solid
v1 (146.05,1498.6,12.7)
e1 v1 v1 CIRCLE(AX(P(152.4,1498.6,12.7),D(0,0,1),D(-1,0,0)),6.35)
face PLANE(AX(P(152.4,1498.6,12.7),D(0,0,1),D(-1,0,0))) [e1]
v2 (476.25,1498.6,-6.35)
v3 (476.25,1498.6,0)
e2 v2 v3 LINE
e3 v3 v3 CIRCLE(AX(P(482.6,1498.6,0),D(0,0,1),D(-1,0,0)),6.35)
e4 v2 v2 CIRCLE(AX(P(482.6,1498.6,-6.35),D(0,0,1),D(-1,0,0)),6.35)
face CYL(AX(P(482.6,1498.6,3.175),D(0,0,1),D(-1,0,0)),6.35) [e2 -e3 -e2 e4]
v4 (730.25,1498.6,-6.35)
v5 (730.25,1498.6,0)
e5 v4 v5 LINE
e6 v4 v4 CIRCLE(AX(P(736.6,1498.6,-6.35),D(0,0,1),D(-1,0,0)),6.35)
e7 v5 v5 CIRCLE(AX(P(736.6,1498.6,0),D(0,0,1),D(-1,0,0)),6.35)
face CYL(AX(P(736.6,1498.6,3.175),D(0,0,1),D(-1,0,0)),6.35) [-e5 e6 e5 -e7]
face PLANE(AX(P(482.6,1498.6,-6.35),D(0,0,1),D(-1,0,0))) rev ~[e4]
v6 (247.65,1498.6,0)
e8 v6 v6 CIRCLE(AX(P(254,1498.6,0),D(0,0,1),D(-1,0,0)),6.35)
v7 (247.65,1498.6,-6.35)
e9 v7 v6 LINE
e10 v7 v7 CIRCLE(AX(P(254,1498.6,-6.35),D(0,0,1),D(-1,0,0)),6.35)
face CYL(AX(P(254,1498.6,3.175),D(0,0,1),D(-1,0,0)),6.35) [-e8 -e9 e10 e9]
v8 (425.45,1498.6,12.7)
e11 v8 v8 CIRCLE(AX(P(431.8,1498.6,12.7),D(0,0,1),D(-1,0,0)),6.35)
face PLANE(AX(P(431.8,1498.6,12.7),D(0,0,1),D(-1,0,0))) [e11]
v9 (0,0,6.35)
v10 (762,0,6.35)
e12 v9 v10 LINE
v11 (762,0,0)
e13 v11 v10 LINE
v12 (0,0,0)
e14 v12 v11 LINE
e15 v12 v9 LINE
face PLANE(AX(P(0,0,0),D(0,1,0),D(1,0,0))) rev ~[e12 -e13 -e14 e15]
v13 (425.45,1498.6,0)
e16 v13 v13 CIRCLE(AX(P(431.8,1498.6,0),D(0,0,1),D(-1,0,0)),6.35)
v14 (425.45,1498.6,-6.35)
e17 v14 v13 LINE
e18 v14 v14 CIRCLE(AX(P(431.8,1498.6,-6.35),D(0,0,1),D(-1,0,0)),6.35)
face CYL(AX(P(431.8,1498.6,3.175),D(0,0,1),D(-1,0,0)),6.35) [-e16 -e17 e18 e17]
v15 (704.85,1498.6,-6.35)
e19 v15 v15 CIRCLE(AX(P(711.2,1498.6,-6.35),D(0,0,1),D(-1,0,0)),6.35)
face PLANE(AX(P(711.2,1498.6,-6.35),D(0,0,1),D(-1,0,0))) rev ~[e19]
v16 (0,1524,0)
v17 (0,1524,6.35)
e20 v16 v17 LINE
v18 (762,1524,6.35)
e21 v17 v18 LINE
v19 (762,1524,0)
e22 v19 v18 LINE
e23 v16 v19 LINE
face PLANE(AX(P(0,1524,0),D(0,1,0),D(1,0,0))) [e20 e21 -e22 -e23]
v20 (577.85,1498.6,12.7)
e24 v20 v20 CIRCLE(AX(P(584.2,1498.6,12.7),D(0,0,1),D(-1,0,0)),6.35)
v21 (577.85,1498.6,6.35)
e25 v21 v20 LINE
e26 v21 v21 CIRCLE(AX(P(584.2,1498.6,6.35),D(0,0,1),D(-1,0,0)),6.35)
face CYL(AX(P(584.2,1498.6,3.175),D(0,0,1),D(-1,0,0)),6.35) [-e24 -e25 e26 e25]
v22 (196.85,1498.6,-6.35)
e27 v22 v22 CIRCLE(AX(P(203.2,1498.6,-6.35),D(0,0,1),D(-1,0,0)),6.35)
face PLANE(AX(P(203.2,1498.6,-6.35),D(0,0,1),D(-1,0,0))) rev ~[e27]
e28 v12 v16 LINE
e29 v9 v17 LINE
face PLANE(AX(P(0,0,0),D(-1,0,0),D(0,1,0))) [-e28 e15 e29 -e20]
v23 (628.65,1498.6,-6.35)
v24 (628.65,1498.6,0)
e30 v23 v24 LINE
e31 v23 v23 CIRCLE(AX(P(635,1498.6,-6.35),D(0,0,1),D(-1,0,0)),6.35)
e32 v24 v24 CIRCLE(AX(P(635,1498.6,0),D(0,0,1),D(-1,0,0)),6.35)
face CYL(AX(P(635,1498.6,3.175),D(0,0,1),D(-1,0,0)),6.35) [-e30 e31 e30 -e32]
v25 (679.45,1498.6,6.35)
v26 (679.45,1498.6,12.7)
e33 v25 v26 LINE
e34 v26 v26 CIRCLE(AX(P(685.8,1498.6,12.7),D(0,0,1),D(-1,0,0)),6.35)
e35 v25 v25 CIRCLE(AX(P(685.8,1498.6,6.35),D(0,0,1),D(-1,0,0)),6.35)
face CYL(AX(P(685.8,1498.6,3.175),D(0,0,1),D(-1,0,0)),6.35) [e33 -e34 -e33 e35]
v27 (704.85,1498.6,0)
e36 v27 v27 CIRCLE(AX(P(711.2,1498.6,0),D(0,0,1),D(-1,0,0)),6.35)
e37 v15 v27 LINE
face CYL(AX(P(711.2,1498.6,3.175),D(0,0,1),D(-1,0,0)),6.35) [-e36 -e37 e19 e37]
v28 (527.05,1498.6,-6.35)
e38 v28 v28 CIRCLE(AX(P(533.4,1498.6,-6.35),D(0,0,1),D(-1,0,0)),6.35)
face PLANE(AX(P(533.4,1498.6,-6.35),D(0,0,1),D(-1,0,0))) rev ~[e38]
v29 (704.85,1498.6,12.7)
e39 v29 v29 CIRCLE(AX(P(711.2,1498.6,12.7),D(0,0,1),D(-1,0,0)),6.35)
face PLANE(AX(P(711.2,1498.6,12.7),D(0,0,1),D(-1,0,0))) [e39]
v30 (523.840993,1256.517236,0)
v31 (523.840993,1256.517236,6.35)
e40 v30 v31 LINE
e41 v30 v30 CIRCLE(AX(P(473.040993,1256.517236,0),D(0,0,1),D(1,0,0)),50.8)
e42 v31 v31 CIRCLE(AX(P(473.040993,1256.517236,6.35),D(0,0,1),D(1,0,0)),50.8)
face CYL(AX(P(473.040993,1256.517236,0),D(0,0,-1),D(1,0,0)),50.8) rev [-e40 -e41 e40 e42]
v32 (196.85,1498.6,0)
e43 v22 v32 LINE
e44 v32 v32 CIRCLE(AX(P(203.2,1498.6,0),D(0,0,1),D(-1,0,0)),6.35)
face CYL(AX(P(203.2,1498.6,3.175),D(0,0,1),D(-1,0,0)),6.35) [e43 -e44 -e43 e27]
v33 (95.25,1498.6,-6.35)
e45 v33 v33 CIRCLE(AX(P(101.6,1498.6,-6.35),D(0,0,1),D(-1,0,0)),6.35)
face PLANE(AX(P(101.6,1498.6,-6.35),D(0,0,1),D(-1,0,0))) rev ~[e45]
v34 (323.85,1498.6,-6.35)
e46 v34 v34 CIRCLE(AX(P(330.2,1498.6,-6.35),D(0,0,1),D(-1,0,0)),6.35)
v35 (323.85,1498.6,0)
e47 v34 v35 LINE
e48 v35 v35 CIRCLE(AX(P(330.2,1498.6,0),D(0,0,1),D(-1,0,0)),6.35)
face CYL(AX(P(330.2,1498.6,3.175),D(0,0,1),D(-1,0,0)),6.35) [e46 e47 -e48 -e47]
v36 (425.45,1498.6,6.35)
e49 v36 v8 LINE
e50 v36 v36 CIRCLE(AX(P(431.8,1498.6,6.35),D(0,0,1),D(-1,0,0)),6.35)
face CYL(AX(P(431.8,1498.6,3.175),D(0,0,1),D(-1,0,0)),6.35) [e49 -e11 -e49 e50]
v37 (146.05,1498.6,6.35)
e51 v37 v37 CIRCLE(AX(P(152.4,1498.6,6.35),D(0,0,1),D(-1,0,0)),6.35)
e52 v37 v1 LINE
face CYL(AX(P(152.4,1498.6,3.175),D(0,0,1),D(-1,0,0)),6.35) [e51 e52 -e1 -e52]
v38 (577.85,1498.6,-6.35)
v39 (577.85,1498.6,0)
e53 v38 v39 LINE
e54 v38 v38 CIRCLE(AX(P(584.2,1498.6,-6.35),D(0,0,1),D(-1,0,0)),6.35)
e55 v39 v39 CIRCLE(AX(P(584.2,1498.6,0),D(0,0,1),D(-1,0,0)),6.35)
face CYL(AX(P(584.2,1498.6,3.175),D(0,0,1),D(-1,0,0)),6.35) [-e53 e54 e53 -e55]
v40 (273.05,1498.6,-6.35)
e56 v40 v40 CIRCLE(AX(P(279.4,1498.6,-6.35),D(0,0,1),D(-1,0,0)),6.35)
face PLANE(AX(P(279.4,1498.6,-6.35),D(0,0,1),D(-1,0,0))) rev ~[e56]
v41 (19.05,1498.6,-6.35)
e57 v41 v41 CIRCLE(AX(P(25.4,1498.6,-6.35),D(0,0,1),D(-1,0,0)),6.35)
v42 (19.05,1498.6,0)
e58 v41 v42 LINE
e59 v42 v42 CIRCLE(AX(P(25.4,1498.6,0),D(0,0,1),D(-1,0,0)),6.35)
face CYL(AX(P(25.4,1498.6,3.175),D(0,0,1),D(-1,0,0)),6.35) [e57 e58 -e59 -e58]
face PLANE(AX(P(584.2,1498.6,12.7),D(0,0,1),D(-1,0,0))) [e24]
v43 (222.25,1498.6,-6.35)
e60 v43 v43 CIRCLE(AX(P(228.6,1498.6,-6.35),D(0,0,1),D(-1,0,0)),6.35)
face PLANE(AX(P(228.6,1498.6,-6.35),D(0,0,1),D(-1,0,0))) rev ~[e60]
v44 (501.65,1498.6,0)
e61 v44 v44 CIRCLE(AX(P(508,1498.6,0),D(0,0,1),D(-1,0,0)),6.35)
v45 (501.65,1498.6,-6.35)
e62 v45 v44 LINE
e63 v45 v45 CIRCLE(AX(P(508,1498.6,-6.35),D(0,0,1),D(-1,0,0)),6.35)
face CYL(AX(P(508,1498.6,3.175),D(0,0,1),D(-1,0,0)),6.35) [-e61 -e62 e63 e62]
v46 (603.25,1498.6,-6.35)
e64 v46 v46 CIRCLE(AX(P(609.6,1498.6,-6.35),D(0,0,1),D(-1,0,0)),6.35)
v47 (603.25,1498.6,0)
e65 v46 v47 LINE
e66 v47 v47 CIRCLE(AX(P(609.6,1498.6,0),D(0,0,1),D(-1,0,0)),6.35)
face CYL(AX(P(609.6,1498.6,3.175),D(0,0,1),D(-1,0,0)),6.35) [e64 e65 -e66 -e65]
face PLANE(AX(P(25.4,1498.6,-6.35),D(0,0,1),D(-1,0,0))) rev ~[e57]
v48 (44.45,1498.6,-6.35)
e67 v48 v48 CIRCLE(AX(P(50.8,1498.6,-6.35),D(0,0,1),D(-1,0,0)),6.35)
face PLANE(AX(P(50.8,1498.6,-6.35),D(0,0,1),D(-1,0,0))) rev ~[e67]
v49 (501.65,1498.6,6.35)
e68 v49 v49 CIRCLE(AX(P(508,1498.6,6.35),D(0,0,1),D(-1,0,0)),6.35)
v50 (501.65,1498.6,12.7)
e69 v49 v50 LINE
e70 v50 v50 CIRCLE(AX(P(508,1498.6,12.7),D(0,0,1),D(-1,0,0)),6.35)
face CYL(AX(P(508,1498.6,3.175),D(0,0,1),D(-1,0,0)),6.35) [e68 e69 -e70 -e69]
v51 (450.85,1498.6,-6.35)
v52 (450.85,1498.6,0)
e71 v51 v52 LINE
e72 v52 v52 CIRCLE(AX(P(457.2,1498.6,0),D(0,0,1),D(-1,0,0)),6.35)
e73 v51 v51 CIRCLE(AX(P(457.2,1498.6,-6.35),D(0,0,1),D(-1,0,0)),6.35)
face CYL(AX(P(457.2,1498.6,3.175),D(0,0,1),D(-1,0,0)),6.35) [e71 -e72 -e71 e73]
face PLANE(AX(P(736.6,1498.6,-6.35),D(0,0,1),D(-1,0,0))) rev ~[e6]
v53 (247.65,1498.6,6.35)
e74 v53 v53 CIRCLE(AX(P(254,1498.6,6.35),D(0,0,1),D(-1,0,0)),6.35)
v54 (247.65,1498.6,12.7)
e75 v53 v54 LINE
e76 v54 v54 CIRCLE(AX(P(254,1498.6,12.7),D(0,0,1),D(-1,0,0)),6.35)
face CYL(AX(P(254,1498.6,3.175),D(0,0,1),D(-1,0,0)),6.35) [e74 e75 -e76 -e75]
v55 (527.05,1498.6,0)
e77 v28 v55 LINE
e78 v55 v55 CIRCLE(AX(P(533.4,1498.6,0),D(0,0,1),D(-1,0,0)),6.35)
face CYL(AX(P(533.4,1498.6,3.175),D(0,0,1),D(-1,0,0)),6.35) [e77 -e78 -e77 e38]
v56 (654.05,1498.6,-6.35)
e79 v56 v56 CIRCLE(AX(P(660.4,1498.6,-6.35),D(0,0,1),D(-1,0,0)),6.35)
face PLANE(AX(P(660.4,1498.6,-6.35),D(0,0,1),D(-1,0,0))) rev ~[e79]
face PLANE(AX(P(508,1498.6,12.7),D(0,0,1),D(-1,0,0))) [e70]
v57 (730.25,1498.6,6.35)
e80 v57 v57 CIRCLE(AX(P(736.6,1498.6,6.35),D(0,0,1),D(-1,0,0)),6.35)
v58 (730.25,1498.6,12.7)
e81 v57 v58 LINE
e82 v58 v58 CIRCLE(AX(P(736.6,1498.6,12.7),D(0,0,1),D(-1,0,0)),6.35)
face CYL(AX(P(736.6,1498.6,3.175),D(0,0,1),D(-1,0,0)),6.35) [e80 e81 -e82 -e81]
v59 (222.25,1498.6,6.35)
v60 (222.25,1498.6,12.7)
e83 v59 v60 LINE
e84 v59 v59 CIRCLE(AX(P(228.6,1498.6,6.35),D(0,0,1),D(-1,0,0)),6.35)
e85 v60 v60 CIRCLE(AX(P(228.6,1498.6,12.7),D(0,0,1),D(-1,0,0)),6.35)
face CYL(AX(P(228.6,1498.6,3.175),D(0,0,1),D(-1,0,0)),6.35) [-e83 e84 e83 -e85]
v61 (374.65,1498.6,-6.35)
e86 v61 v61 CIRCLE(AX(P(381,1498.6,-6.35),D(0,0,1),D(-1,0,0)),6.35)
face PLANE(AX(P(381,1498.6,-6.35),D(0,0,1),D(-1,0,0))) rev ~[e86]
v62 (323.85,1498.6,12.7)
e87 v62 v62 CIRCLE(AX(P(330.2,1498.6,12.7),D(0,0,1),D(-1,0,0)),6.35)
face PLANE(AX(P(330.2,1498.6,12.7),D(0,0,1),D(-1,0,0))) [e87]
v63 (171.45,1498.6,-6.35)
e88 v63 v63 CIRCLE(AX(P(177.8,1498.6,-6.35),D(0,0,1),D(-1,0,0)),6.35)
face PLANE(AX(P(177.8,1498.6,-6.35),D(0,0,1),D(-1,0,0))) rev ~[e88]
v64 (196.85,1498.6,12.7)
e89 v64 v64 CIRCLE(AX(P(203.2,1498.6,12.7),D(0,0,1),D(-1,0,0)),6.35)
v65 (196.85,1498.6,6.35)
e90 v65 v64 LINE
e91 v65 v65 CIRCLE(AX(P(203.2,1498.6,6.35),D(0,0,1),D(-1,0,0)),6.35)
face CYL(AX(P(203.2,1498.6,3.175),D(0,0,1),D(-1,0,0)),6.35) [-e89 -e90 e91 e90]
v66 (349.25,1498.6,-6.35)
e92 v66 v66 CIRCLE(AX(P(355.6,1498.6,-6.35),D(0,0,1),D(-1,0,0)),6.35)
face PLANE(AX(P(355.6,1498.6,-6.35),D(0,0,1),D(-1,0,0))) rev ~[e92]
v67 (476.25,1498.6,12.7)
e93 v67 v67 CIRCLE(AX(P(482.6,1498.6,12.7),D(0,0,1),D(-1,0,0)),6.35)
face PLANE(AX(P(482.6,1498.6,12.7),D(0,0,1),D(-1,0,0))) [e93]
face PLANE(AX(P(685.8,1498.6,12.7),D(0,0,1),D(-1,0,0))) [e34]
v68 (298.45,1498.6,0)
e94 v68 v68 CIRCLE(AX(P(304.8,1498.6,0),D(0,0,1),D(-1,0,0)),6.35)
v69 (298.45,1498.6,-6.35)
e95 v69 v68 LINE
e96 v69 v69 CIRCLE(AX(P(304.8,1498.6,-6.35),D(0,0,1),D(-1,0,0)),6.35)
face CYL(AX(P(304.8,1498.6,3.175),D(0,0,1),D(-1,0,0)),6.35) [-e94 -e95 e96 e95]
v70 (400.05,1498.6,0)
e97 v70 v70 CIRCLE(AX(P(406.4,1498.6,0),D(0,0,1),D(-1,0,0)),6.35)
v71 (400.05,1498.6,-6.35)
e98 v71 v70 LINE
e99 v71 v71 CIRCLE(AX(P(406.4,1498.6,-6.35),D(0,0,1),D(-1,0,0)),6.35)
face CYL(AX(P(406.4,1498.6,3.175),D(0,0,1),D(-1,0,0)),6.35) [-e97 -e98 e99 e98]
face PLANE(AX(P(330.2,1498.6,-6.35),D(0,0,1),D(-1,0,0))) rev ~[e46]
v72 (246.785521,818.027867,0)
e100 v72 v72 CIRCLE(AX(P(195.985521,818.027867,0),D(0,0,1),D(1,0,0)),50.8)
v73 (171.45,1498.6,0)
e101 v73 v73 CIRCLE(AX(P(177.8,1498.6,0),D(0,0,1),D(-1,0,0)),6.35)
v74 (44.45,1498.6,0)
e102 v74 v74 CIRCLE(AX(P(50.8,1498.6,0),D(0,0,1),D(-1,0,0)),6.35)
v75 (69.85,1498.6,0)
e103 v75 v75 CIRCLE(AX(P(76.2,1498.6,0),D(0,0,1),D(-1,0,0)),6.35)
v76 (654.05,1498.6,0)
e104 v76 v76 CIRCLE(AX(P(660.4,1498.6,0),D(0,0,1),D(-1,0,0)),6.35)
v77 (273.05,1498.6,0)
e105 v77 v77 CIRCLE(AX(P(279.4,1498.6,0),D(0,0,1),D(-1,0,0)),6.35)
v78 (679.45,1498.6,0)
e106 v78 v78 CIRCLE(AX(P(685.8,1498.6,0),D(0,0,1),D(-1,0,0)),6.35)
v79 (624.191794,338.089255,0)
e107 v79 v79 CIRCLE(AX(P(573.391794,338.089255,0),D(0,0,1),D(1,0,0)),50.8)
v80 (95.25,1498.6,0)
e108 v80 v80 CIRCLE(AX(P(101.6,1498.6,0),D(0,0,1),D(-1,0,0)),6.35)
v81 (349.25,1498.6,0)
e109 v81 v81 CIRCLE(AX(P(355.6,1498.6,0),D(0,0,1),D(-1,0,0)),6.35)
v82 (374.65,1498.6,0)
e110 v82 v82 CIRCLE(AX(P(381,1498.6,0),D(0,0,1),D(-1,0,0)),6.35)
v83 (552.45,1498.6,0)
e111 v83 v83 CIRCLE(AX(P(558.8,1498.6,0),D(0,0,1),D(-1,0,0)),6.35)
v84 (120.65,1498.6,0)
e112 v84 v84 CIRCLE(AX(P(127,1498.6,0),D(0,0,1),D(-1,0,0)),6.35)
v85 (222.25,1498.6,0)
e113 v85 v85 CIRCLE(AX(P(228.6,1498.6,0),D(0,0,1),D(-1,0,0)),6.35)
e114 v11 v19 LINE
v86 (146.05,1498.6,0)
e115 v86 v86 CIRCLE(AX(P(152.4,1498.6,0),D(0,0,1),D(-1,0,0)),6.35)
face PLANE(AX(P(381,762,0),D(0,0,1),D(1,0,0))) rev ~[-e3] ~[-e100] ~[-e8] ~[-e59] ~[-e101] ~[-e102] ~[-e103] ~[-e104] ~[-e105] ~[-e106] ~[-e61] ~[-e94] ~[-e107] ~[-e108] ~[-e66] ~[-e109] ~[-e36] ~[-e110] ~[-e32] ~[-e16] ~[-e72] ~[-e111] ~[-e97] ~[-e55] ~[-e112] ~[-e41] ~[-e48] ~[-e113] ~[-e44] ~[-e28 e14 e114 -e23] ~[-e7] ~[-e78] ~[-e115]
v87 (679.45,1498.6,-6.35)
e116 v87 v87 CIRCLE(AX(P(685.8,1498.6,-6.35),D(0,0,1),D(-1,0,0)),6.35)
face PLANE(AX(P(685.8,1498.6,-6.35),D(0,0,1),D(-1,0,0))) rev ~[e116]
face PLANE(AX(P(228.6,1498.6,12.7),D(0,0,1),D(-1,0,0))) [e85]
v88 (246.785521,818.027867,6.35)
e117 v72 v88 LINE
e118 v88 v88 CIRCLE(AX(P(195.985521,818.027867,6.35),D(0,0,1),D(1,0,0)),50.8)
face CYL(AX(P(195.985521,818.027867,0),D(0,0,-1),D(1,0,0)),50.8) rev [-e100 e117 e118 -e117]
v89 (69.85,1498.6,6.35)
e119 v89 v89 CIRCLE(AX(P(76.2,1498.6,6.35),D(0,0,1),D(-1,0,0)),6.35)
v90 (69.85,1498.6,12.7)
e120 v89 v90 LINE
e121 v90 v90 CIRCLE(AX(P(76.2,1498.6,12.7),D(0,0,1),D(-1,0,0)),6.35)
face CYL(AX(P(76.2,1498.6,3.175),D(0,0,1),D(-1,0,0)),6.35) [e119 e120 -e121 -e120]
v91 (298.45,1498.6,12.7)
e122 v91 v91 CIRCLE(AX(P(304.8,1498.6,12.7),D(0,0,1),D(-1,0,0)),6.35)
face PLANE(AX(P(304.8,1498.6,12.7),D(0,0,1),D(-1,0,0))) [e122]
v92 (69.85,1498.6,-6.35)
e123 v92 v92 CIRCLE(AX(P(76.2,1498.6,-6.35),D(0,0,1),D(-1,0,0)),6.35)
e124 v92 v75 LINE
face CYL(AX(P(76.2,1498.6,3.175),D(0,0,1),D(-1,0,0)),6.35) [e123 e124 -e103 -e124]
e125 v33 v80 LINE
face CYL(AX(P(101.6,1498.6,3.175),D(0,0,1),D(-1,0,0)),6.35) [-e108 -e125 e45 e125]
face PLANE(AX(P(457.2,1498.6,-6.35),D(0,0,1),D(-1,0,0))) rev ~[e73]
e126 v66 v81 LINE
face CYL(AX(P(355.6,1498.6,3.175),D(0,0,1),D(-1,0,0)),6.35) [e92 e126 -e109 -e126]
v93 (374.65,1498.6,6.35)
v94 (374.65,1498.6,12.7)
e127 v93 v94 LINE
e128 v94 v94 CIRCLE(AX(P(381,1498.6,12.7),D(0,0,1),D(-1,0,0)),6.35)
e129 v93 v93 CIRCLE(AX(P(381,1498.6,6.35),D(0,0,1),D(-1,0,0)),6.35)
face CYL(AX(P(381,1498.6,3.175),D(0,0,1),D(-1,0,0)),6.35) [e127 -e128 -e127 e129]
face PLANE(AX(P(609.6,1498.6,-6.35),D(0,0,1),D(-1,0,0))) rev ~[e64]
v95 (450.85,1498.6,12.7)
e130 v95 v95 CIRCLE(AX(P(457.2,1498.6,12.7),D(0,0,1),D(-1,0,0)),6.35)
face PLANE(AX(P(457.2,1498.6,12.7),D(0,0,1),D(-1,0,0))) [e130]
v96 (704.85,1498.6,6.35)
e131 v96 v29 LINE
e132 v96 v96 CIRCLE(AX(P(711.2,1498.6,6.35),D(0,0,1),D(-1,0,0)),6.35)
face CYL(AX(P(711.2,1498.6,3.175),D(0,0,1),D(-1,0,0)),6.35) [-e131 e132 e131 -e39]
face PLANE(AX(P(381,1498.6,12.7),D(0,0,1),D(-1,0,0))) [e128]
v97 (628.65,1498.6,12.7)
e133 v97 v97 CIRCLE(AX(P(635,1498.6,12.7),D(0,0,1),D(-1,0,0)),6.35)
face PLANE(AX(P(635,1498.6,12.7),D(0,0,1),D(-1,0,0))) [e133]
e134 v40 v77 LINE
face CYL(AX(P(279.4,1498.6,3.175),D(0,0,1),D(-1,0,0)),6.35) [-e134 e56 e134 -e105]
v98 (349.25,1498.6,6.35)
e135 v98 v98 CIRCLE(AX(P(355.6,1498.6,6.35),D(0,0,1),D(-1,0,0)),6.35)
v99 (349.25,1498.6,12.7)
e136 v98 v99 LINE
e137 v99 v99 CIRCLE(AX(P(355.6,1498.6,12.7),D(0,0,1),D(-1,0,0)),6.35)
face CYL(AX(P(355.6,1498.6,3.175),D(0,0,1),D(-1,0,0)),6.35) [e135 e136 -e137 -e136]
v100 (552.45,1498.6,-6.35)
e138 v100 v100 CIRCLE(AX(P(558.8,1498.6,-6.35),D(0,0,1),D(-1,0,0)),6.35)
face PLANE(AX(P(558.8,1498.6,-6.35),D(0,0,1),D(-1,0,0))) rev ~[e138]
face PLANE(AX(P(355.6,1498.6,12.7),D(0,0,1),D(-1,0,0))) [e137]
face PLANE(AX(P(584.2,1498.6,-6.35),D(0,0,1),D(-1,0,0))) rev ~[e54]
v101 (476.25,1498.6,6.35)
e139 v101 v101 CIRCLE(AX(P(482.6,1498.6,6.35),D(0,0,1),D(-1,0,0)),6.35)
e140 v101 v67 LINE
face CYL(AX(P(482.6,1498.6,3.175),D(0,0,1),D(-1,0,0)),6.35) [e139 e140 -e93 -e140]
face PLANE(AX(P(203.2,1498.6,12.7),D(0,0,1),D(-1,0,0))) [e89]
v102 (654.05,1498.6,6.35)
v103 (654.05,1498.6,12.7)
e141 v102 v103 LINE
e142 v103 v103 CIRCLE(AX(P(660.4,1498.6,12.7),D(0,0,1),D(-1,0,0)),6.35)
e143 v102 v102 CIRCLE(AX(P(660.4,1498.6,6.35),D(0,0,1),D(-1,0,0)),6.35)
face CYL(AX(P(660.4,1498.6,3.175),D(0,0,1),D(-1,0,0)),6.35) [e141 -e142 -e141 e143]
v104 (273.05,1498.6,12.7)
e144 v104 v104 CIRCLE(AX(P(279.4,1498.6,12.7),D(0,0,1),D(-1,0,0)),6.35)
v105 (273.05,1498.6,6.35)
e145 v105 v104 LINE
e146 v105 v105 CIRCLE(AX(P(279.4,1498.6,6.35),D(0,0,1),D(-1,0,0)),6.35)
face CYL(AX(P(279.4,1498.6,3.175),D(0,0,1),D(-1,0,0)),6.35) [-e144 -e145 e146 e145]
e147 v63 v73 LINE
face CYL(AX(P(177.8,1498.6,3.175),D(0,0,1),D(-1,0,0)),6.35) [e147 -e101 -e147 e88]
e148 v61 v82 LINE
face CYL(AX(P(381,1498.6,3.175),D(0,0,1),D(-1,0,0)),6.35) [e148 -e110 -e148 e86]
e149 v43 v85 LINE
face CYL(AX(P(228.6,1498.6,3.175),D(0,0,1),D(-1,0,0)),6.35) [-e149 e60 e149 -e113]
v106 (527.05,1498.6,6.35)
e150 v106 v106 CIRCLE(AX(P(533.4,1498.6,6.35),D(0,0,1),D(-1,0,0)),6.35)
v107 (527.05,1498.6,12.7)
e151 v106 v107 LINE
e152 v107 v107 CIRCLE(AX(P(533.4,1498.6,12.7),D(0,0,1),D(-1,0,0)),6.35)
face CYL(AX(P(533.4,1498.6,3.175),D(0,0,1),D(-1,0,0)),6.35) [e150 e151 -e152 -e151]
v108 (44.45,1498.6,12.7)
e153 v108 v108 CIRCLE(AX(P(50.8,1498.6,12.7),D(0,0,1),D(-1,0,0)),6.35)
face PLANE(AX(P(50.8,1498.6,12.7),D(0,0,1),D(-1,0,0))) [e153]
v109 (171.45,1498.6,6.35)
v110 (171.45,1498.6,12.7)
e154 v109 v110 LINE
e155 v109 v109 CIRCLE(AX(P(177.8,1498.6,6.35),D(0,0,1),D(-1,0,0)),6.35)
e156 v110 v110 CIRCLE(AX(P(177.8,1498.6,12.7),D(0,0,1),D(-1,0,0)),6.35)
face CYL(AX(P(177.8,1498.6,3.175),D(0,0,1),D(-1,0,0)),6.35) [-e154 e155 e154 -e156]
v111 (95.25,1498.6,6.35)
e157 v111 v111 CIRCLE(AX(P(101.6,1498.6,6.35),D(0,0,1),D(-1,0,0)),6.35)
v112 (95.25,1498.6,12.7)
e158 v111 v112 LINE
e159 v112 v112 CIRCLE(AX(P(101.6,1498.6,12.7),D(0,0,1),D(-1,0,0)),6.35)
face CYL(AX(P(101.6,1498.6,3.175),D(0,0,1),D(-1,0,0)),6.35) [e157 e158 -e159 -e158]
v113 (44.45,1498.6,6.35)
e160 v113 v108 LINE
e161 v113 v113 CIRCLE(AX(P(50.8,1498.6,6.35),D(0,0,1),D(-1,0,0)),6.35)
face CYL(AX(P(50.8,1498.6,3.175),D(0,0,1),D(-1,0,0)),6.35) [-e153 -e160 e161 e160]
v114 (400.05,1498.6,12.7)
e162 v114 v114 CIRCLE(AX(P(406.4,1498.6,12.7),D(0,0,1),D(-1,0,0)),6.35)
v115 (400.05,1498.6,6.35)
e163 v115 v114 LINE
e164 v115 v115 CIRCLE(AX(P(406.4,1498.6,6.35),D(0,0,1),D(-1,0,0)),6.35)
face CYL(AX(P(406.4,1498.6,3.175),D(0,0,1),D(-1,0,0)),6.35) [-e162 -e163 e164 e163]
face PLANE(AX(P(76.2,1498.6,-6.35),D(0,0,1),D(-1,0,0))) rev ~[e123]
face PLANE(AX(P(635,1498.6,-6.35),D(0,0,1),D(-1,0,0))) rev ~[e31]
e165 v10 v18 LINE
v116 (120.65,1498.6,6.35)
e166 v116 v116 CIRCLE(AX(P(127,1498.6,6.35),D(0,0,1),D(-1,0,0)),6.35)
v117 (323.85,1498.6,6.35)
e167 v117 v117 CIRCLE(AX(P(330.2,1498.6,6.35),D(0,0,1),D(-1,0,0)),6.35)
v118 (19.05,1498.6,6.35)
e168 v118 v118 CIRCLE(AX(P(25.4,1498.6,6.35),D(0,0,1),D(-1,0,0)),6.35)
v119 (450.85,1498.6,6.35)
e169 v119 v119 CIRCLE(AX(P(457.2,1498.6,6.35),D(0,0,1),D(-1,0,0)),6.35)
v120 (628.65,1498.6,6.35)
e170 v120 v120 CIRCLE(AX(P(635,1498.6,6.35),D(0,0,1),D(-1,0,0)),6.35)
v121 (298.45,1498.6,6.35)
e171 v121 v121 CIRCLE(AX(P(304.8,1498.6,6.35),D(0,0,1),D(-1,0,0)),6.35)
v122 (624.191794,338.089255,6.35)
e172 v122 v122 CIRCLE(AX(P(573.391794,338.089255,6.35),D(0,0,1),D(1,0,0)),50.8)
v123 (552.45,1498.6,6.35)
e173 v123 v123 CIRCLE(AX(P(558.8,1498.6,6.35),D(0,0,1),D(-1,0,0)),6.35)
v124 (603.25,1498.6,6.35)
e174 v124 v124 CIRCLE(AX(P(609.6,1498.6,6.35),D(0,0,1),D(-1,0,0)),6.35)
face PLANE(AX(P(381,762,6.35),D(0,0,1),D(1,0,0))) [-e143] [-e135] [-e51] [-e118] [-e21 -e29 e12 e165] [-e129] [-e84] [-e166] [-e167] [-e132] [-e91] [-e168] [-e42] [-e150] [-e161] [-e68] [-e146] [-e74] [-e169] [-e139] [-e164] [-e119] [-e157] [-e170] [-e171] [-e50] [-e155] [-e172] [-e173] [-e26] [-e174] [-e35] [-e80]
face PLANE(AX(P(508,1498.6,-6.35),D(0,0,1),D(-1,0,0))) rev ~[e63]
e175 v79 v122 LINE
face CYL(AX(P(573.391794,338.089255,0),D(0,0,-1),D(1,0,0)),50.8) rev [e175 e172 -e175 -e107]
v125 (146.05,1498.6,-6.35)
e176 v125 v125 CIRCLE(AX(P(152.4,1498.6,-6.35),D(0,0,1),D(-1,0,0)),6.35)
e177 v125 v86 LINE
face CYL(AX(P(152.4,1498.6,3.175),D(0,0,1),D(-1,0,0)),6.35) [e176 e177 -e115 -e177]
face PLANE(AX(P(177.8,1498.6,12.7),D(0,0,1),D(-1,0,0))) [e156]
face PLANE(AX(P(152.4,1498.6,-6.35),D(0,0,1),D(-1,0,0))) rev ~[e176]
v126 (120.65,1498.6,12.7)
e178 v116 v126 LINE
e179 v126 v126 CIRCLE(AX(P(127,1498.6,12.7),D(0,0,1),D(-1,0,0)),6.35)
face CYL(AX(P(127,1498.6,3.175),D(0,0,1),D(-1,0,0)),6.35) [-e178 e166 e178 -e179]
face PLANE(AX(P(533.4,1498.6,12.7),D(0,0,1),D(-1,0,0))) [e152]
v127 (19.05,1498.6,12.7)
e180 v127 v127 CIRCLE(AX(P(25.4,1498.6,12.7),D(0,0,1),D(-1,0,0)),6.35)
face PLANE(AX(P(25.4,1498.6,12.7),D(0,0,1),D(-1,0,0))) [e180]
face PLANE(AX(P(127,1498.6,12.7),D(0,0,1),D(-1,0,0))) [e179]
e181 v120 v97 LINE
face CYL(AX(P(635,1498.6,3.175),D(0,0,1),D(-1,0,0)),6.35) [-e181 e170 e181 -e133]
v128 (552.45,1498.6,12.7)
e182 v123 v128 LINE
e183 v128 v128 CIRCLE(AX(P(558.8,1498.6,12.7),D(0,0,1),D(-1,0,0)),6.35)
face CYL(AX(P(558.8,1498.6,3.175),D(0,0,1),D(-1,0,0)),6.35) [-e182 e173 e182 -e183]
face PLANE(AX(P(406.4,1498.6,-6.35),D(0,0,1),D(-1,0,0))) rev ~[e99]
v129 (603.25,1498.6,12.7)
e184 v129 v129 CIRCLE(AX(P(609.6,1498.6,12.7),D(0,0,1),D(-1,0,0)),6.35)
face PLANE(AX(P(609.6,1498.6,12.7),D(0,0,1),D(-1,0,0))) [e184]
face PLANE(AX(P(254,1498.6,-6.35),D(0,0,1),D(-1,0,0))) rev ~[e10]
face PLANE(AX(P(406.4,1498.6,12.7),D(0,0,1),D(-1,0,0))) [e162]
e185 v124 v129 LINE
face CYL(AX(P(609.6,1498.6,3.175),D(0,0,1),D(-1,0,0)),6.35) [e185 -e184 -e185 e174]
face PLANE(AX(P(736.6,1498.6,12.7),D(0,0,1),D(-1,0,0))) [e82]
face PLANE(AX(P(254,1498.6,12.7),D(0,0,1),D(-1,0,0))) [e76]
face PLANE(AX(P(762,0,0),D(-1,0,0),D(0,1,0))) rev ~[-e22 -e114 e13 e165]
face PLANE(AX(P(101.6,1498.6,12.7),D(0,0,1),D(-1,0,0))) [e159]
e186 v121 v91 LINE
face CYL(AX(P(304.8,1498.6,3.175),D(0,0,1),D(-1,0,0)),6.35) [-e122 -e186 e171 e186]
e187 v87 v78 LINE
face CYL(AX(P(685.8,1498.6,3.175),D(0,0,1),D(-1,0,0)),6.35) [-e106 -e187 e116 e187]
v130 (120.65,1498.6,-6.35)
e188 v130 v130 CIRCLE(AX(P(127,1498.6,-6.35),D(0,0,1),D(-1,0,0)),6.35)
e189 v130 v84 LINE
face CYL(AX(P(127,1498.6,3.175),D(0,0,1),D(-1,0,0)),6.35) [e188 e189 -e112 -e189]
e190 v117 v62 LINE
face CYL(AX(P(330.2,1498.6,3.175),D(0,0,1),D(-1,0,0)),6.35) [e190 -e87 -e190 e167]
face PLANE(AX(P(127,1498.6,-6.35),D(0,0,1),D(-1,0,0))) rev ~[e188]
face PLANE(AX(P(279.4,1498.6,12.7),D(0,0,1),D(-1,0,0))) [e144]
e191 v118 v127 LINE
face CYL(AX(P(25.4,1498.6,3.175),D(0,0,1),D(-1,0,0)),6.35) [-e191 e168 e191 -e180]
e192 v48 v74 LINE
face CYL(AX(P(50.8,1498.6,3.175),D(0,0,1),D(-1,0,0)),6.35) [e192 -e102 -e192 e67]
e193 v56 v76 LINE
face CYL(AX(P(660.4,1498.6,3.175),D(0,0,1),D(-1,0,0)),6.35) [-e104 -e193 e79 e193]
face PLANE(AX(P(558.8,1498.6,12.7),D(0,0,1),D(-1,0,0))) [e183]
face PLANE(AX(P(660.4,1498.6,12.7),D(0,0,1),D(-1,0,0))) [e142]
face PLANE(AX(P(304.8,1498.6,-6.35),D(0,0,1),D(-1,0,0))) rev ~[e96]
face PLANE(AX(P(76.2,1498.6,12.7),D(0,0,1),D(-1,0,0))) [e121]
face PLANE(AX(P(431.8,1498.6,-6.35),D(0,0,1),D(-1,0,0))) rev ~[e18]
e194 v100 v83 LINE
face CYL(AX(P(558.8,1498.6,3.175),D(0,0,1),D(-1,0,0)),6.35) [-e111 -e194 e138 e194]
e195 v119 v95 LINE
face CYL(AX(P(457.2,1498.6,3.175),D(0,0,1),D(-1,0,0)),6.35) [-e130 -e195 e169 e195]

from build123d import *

# Parameters (mm, degrees)
SKETCH1_W           = 762
SKETCH1_H           = 1524
SKETCH1_R           = 50.8
BOSS_EXTRUDE1_DEPTH = 6.35
SKETCH3_R           = 6.35
BOSS_EXTRUDE2_DEPTH = 9.525
LPATTERN1_COUNT     = 29
LPATTERN1_PITCH     = 25.4


with BuildPart() as part:
    # Sketch1 → Boss-Extrude1 (new body)
    with BuildSketch(Plane.XY):
        with Locations((381, 762)):
            Rectangle(SKETCH1_W, SKETCH1_H)
        with Locations((473.040992839, 1256.517236174)):
            Circle(SKETCH1_R, mode=Mode.SUBTRACT)
        with Locations((195.985521076, 818.027867477)):
            Circle(SKETCH1_R, mode=Mode.SUBTRACT)
        with Locations((573.391793635, 338.089254973)):
            Circle(SKETCH1_R, mode=Mode.SUBTRACT)
    extrude(amount=BOSS_EXTRUDE1_DEPTH)

    # Sketch3 → Boss-Extrude2 (add, symmetric)
    with BuildSketch(Plane.XY.offset(3.175)):
        with Locations(Location((25.4, 1498.6, 0), (0, 0, 180))):
            Circle(SKETCH3_R)
    boss_extrude2 = extrude(amount=BOSS_EXTRUDE2_DEPTH, both=True)

    # LPattern1: Boss-Extrude2 ×29
    with Locations(*[(i * LPATTERN1_PITCH, 0, 0) for i in range(1, LPATTERN1_COUNT)]):
        add(boss_extrude2)


solid = part.part
